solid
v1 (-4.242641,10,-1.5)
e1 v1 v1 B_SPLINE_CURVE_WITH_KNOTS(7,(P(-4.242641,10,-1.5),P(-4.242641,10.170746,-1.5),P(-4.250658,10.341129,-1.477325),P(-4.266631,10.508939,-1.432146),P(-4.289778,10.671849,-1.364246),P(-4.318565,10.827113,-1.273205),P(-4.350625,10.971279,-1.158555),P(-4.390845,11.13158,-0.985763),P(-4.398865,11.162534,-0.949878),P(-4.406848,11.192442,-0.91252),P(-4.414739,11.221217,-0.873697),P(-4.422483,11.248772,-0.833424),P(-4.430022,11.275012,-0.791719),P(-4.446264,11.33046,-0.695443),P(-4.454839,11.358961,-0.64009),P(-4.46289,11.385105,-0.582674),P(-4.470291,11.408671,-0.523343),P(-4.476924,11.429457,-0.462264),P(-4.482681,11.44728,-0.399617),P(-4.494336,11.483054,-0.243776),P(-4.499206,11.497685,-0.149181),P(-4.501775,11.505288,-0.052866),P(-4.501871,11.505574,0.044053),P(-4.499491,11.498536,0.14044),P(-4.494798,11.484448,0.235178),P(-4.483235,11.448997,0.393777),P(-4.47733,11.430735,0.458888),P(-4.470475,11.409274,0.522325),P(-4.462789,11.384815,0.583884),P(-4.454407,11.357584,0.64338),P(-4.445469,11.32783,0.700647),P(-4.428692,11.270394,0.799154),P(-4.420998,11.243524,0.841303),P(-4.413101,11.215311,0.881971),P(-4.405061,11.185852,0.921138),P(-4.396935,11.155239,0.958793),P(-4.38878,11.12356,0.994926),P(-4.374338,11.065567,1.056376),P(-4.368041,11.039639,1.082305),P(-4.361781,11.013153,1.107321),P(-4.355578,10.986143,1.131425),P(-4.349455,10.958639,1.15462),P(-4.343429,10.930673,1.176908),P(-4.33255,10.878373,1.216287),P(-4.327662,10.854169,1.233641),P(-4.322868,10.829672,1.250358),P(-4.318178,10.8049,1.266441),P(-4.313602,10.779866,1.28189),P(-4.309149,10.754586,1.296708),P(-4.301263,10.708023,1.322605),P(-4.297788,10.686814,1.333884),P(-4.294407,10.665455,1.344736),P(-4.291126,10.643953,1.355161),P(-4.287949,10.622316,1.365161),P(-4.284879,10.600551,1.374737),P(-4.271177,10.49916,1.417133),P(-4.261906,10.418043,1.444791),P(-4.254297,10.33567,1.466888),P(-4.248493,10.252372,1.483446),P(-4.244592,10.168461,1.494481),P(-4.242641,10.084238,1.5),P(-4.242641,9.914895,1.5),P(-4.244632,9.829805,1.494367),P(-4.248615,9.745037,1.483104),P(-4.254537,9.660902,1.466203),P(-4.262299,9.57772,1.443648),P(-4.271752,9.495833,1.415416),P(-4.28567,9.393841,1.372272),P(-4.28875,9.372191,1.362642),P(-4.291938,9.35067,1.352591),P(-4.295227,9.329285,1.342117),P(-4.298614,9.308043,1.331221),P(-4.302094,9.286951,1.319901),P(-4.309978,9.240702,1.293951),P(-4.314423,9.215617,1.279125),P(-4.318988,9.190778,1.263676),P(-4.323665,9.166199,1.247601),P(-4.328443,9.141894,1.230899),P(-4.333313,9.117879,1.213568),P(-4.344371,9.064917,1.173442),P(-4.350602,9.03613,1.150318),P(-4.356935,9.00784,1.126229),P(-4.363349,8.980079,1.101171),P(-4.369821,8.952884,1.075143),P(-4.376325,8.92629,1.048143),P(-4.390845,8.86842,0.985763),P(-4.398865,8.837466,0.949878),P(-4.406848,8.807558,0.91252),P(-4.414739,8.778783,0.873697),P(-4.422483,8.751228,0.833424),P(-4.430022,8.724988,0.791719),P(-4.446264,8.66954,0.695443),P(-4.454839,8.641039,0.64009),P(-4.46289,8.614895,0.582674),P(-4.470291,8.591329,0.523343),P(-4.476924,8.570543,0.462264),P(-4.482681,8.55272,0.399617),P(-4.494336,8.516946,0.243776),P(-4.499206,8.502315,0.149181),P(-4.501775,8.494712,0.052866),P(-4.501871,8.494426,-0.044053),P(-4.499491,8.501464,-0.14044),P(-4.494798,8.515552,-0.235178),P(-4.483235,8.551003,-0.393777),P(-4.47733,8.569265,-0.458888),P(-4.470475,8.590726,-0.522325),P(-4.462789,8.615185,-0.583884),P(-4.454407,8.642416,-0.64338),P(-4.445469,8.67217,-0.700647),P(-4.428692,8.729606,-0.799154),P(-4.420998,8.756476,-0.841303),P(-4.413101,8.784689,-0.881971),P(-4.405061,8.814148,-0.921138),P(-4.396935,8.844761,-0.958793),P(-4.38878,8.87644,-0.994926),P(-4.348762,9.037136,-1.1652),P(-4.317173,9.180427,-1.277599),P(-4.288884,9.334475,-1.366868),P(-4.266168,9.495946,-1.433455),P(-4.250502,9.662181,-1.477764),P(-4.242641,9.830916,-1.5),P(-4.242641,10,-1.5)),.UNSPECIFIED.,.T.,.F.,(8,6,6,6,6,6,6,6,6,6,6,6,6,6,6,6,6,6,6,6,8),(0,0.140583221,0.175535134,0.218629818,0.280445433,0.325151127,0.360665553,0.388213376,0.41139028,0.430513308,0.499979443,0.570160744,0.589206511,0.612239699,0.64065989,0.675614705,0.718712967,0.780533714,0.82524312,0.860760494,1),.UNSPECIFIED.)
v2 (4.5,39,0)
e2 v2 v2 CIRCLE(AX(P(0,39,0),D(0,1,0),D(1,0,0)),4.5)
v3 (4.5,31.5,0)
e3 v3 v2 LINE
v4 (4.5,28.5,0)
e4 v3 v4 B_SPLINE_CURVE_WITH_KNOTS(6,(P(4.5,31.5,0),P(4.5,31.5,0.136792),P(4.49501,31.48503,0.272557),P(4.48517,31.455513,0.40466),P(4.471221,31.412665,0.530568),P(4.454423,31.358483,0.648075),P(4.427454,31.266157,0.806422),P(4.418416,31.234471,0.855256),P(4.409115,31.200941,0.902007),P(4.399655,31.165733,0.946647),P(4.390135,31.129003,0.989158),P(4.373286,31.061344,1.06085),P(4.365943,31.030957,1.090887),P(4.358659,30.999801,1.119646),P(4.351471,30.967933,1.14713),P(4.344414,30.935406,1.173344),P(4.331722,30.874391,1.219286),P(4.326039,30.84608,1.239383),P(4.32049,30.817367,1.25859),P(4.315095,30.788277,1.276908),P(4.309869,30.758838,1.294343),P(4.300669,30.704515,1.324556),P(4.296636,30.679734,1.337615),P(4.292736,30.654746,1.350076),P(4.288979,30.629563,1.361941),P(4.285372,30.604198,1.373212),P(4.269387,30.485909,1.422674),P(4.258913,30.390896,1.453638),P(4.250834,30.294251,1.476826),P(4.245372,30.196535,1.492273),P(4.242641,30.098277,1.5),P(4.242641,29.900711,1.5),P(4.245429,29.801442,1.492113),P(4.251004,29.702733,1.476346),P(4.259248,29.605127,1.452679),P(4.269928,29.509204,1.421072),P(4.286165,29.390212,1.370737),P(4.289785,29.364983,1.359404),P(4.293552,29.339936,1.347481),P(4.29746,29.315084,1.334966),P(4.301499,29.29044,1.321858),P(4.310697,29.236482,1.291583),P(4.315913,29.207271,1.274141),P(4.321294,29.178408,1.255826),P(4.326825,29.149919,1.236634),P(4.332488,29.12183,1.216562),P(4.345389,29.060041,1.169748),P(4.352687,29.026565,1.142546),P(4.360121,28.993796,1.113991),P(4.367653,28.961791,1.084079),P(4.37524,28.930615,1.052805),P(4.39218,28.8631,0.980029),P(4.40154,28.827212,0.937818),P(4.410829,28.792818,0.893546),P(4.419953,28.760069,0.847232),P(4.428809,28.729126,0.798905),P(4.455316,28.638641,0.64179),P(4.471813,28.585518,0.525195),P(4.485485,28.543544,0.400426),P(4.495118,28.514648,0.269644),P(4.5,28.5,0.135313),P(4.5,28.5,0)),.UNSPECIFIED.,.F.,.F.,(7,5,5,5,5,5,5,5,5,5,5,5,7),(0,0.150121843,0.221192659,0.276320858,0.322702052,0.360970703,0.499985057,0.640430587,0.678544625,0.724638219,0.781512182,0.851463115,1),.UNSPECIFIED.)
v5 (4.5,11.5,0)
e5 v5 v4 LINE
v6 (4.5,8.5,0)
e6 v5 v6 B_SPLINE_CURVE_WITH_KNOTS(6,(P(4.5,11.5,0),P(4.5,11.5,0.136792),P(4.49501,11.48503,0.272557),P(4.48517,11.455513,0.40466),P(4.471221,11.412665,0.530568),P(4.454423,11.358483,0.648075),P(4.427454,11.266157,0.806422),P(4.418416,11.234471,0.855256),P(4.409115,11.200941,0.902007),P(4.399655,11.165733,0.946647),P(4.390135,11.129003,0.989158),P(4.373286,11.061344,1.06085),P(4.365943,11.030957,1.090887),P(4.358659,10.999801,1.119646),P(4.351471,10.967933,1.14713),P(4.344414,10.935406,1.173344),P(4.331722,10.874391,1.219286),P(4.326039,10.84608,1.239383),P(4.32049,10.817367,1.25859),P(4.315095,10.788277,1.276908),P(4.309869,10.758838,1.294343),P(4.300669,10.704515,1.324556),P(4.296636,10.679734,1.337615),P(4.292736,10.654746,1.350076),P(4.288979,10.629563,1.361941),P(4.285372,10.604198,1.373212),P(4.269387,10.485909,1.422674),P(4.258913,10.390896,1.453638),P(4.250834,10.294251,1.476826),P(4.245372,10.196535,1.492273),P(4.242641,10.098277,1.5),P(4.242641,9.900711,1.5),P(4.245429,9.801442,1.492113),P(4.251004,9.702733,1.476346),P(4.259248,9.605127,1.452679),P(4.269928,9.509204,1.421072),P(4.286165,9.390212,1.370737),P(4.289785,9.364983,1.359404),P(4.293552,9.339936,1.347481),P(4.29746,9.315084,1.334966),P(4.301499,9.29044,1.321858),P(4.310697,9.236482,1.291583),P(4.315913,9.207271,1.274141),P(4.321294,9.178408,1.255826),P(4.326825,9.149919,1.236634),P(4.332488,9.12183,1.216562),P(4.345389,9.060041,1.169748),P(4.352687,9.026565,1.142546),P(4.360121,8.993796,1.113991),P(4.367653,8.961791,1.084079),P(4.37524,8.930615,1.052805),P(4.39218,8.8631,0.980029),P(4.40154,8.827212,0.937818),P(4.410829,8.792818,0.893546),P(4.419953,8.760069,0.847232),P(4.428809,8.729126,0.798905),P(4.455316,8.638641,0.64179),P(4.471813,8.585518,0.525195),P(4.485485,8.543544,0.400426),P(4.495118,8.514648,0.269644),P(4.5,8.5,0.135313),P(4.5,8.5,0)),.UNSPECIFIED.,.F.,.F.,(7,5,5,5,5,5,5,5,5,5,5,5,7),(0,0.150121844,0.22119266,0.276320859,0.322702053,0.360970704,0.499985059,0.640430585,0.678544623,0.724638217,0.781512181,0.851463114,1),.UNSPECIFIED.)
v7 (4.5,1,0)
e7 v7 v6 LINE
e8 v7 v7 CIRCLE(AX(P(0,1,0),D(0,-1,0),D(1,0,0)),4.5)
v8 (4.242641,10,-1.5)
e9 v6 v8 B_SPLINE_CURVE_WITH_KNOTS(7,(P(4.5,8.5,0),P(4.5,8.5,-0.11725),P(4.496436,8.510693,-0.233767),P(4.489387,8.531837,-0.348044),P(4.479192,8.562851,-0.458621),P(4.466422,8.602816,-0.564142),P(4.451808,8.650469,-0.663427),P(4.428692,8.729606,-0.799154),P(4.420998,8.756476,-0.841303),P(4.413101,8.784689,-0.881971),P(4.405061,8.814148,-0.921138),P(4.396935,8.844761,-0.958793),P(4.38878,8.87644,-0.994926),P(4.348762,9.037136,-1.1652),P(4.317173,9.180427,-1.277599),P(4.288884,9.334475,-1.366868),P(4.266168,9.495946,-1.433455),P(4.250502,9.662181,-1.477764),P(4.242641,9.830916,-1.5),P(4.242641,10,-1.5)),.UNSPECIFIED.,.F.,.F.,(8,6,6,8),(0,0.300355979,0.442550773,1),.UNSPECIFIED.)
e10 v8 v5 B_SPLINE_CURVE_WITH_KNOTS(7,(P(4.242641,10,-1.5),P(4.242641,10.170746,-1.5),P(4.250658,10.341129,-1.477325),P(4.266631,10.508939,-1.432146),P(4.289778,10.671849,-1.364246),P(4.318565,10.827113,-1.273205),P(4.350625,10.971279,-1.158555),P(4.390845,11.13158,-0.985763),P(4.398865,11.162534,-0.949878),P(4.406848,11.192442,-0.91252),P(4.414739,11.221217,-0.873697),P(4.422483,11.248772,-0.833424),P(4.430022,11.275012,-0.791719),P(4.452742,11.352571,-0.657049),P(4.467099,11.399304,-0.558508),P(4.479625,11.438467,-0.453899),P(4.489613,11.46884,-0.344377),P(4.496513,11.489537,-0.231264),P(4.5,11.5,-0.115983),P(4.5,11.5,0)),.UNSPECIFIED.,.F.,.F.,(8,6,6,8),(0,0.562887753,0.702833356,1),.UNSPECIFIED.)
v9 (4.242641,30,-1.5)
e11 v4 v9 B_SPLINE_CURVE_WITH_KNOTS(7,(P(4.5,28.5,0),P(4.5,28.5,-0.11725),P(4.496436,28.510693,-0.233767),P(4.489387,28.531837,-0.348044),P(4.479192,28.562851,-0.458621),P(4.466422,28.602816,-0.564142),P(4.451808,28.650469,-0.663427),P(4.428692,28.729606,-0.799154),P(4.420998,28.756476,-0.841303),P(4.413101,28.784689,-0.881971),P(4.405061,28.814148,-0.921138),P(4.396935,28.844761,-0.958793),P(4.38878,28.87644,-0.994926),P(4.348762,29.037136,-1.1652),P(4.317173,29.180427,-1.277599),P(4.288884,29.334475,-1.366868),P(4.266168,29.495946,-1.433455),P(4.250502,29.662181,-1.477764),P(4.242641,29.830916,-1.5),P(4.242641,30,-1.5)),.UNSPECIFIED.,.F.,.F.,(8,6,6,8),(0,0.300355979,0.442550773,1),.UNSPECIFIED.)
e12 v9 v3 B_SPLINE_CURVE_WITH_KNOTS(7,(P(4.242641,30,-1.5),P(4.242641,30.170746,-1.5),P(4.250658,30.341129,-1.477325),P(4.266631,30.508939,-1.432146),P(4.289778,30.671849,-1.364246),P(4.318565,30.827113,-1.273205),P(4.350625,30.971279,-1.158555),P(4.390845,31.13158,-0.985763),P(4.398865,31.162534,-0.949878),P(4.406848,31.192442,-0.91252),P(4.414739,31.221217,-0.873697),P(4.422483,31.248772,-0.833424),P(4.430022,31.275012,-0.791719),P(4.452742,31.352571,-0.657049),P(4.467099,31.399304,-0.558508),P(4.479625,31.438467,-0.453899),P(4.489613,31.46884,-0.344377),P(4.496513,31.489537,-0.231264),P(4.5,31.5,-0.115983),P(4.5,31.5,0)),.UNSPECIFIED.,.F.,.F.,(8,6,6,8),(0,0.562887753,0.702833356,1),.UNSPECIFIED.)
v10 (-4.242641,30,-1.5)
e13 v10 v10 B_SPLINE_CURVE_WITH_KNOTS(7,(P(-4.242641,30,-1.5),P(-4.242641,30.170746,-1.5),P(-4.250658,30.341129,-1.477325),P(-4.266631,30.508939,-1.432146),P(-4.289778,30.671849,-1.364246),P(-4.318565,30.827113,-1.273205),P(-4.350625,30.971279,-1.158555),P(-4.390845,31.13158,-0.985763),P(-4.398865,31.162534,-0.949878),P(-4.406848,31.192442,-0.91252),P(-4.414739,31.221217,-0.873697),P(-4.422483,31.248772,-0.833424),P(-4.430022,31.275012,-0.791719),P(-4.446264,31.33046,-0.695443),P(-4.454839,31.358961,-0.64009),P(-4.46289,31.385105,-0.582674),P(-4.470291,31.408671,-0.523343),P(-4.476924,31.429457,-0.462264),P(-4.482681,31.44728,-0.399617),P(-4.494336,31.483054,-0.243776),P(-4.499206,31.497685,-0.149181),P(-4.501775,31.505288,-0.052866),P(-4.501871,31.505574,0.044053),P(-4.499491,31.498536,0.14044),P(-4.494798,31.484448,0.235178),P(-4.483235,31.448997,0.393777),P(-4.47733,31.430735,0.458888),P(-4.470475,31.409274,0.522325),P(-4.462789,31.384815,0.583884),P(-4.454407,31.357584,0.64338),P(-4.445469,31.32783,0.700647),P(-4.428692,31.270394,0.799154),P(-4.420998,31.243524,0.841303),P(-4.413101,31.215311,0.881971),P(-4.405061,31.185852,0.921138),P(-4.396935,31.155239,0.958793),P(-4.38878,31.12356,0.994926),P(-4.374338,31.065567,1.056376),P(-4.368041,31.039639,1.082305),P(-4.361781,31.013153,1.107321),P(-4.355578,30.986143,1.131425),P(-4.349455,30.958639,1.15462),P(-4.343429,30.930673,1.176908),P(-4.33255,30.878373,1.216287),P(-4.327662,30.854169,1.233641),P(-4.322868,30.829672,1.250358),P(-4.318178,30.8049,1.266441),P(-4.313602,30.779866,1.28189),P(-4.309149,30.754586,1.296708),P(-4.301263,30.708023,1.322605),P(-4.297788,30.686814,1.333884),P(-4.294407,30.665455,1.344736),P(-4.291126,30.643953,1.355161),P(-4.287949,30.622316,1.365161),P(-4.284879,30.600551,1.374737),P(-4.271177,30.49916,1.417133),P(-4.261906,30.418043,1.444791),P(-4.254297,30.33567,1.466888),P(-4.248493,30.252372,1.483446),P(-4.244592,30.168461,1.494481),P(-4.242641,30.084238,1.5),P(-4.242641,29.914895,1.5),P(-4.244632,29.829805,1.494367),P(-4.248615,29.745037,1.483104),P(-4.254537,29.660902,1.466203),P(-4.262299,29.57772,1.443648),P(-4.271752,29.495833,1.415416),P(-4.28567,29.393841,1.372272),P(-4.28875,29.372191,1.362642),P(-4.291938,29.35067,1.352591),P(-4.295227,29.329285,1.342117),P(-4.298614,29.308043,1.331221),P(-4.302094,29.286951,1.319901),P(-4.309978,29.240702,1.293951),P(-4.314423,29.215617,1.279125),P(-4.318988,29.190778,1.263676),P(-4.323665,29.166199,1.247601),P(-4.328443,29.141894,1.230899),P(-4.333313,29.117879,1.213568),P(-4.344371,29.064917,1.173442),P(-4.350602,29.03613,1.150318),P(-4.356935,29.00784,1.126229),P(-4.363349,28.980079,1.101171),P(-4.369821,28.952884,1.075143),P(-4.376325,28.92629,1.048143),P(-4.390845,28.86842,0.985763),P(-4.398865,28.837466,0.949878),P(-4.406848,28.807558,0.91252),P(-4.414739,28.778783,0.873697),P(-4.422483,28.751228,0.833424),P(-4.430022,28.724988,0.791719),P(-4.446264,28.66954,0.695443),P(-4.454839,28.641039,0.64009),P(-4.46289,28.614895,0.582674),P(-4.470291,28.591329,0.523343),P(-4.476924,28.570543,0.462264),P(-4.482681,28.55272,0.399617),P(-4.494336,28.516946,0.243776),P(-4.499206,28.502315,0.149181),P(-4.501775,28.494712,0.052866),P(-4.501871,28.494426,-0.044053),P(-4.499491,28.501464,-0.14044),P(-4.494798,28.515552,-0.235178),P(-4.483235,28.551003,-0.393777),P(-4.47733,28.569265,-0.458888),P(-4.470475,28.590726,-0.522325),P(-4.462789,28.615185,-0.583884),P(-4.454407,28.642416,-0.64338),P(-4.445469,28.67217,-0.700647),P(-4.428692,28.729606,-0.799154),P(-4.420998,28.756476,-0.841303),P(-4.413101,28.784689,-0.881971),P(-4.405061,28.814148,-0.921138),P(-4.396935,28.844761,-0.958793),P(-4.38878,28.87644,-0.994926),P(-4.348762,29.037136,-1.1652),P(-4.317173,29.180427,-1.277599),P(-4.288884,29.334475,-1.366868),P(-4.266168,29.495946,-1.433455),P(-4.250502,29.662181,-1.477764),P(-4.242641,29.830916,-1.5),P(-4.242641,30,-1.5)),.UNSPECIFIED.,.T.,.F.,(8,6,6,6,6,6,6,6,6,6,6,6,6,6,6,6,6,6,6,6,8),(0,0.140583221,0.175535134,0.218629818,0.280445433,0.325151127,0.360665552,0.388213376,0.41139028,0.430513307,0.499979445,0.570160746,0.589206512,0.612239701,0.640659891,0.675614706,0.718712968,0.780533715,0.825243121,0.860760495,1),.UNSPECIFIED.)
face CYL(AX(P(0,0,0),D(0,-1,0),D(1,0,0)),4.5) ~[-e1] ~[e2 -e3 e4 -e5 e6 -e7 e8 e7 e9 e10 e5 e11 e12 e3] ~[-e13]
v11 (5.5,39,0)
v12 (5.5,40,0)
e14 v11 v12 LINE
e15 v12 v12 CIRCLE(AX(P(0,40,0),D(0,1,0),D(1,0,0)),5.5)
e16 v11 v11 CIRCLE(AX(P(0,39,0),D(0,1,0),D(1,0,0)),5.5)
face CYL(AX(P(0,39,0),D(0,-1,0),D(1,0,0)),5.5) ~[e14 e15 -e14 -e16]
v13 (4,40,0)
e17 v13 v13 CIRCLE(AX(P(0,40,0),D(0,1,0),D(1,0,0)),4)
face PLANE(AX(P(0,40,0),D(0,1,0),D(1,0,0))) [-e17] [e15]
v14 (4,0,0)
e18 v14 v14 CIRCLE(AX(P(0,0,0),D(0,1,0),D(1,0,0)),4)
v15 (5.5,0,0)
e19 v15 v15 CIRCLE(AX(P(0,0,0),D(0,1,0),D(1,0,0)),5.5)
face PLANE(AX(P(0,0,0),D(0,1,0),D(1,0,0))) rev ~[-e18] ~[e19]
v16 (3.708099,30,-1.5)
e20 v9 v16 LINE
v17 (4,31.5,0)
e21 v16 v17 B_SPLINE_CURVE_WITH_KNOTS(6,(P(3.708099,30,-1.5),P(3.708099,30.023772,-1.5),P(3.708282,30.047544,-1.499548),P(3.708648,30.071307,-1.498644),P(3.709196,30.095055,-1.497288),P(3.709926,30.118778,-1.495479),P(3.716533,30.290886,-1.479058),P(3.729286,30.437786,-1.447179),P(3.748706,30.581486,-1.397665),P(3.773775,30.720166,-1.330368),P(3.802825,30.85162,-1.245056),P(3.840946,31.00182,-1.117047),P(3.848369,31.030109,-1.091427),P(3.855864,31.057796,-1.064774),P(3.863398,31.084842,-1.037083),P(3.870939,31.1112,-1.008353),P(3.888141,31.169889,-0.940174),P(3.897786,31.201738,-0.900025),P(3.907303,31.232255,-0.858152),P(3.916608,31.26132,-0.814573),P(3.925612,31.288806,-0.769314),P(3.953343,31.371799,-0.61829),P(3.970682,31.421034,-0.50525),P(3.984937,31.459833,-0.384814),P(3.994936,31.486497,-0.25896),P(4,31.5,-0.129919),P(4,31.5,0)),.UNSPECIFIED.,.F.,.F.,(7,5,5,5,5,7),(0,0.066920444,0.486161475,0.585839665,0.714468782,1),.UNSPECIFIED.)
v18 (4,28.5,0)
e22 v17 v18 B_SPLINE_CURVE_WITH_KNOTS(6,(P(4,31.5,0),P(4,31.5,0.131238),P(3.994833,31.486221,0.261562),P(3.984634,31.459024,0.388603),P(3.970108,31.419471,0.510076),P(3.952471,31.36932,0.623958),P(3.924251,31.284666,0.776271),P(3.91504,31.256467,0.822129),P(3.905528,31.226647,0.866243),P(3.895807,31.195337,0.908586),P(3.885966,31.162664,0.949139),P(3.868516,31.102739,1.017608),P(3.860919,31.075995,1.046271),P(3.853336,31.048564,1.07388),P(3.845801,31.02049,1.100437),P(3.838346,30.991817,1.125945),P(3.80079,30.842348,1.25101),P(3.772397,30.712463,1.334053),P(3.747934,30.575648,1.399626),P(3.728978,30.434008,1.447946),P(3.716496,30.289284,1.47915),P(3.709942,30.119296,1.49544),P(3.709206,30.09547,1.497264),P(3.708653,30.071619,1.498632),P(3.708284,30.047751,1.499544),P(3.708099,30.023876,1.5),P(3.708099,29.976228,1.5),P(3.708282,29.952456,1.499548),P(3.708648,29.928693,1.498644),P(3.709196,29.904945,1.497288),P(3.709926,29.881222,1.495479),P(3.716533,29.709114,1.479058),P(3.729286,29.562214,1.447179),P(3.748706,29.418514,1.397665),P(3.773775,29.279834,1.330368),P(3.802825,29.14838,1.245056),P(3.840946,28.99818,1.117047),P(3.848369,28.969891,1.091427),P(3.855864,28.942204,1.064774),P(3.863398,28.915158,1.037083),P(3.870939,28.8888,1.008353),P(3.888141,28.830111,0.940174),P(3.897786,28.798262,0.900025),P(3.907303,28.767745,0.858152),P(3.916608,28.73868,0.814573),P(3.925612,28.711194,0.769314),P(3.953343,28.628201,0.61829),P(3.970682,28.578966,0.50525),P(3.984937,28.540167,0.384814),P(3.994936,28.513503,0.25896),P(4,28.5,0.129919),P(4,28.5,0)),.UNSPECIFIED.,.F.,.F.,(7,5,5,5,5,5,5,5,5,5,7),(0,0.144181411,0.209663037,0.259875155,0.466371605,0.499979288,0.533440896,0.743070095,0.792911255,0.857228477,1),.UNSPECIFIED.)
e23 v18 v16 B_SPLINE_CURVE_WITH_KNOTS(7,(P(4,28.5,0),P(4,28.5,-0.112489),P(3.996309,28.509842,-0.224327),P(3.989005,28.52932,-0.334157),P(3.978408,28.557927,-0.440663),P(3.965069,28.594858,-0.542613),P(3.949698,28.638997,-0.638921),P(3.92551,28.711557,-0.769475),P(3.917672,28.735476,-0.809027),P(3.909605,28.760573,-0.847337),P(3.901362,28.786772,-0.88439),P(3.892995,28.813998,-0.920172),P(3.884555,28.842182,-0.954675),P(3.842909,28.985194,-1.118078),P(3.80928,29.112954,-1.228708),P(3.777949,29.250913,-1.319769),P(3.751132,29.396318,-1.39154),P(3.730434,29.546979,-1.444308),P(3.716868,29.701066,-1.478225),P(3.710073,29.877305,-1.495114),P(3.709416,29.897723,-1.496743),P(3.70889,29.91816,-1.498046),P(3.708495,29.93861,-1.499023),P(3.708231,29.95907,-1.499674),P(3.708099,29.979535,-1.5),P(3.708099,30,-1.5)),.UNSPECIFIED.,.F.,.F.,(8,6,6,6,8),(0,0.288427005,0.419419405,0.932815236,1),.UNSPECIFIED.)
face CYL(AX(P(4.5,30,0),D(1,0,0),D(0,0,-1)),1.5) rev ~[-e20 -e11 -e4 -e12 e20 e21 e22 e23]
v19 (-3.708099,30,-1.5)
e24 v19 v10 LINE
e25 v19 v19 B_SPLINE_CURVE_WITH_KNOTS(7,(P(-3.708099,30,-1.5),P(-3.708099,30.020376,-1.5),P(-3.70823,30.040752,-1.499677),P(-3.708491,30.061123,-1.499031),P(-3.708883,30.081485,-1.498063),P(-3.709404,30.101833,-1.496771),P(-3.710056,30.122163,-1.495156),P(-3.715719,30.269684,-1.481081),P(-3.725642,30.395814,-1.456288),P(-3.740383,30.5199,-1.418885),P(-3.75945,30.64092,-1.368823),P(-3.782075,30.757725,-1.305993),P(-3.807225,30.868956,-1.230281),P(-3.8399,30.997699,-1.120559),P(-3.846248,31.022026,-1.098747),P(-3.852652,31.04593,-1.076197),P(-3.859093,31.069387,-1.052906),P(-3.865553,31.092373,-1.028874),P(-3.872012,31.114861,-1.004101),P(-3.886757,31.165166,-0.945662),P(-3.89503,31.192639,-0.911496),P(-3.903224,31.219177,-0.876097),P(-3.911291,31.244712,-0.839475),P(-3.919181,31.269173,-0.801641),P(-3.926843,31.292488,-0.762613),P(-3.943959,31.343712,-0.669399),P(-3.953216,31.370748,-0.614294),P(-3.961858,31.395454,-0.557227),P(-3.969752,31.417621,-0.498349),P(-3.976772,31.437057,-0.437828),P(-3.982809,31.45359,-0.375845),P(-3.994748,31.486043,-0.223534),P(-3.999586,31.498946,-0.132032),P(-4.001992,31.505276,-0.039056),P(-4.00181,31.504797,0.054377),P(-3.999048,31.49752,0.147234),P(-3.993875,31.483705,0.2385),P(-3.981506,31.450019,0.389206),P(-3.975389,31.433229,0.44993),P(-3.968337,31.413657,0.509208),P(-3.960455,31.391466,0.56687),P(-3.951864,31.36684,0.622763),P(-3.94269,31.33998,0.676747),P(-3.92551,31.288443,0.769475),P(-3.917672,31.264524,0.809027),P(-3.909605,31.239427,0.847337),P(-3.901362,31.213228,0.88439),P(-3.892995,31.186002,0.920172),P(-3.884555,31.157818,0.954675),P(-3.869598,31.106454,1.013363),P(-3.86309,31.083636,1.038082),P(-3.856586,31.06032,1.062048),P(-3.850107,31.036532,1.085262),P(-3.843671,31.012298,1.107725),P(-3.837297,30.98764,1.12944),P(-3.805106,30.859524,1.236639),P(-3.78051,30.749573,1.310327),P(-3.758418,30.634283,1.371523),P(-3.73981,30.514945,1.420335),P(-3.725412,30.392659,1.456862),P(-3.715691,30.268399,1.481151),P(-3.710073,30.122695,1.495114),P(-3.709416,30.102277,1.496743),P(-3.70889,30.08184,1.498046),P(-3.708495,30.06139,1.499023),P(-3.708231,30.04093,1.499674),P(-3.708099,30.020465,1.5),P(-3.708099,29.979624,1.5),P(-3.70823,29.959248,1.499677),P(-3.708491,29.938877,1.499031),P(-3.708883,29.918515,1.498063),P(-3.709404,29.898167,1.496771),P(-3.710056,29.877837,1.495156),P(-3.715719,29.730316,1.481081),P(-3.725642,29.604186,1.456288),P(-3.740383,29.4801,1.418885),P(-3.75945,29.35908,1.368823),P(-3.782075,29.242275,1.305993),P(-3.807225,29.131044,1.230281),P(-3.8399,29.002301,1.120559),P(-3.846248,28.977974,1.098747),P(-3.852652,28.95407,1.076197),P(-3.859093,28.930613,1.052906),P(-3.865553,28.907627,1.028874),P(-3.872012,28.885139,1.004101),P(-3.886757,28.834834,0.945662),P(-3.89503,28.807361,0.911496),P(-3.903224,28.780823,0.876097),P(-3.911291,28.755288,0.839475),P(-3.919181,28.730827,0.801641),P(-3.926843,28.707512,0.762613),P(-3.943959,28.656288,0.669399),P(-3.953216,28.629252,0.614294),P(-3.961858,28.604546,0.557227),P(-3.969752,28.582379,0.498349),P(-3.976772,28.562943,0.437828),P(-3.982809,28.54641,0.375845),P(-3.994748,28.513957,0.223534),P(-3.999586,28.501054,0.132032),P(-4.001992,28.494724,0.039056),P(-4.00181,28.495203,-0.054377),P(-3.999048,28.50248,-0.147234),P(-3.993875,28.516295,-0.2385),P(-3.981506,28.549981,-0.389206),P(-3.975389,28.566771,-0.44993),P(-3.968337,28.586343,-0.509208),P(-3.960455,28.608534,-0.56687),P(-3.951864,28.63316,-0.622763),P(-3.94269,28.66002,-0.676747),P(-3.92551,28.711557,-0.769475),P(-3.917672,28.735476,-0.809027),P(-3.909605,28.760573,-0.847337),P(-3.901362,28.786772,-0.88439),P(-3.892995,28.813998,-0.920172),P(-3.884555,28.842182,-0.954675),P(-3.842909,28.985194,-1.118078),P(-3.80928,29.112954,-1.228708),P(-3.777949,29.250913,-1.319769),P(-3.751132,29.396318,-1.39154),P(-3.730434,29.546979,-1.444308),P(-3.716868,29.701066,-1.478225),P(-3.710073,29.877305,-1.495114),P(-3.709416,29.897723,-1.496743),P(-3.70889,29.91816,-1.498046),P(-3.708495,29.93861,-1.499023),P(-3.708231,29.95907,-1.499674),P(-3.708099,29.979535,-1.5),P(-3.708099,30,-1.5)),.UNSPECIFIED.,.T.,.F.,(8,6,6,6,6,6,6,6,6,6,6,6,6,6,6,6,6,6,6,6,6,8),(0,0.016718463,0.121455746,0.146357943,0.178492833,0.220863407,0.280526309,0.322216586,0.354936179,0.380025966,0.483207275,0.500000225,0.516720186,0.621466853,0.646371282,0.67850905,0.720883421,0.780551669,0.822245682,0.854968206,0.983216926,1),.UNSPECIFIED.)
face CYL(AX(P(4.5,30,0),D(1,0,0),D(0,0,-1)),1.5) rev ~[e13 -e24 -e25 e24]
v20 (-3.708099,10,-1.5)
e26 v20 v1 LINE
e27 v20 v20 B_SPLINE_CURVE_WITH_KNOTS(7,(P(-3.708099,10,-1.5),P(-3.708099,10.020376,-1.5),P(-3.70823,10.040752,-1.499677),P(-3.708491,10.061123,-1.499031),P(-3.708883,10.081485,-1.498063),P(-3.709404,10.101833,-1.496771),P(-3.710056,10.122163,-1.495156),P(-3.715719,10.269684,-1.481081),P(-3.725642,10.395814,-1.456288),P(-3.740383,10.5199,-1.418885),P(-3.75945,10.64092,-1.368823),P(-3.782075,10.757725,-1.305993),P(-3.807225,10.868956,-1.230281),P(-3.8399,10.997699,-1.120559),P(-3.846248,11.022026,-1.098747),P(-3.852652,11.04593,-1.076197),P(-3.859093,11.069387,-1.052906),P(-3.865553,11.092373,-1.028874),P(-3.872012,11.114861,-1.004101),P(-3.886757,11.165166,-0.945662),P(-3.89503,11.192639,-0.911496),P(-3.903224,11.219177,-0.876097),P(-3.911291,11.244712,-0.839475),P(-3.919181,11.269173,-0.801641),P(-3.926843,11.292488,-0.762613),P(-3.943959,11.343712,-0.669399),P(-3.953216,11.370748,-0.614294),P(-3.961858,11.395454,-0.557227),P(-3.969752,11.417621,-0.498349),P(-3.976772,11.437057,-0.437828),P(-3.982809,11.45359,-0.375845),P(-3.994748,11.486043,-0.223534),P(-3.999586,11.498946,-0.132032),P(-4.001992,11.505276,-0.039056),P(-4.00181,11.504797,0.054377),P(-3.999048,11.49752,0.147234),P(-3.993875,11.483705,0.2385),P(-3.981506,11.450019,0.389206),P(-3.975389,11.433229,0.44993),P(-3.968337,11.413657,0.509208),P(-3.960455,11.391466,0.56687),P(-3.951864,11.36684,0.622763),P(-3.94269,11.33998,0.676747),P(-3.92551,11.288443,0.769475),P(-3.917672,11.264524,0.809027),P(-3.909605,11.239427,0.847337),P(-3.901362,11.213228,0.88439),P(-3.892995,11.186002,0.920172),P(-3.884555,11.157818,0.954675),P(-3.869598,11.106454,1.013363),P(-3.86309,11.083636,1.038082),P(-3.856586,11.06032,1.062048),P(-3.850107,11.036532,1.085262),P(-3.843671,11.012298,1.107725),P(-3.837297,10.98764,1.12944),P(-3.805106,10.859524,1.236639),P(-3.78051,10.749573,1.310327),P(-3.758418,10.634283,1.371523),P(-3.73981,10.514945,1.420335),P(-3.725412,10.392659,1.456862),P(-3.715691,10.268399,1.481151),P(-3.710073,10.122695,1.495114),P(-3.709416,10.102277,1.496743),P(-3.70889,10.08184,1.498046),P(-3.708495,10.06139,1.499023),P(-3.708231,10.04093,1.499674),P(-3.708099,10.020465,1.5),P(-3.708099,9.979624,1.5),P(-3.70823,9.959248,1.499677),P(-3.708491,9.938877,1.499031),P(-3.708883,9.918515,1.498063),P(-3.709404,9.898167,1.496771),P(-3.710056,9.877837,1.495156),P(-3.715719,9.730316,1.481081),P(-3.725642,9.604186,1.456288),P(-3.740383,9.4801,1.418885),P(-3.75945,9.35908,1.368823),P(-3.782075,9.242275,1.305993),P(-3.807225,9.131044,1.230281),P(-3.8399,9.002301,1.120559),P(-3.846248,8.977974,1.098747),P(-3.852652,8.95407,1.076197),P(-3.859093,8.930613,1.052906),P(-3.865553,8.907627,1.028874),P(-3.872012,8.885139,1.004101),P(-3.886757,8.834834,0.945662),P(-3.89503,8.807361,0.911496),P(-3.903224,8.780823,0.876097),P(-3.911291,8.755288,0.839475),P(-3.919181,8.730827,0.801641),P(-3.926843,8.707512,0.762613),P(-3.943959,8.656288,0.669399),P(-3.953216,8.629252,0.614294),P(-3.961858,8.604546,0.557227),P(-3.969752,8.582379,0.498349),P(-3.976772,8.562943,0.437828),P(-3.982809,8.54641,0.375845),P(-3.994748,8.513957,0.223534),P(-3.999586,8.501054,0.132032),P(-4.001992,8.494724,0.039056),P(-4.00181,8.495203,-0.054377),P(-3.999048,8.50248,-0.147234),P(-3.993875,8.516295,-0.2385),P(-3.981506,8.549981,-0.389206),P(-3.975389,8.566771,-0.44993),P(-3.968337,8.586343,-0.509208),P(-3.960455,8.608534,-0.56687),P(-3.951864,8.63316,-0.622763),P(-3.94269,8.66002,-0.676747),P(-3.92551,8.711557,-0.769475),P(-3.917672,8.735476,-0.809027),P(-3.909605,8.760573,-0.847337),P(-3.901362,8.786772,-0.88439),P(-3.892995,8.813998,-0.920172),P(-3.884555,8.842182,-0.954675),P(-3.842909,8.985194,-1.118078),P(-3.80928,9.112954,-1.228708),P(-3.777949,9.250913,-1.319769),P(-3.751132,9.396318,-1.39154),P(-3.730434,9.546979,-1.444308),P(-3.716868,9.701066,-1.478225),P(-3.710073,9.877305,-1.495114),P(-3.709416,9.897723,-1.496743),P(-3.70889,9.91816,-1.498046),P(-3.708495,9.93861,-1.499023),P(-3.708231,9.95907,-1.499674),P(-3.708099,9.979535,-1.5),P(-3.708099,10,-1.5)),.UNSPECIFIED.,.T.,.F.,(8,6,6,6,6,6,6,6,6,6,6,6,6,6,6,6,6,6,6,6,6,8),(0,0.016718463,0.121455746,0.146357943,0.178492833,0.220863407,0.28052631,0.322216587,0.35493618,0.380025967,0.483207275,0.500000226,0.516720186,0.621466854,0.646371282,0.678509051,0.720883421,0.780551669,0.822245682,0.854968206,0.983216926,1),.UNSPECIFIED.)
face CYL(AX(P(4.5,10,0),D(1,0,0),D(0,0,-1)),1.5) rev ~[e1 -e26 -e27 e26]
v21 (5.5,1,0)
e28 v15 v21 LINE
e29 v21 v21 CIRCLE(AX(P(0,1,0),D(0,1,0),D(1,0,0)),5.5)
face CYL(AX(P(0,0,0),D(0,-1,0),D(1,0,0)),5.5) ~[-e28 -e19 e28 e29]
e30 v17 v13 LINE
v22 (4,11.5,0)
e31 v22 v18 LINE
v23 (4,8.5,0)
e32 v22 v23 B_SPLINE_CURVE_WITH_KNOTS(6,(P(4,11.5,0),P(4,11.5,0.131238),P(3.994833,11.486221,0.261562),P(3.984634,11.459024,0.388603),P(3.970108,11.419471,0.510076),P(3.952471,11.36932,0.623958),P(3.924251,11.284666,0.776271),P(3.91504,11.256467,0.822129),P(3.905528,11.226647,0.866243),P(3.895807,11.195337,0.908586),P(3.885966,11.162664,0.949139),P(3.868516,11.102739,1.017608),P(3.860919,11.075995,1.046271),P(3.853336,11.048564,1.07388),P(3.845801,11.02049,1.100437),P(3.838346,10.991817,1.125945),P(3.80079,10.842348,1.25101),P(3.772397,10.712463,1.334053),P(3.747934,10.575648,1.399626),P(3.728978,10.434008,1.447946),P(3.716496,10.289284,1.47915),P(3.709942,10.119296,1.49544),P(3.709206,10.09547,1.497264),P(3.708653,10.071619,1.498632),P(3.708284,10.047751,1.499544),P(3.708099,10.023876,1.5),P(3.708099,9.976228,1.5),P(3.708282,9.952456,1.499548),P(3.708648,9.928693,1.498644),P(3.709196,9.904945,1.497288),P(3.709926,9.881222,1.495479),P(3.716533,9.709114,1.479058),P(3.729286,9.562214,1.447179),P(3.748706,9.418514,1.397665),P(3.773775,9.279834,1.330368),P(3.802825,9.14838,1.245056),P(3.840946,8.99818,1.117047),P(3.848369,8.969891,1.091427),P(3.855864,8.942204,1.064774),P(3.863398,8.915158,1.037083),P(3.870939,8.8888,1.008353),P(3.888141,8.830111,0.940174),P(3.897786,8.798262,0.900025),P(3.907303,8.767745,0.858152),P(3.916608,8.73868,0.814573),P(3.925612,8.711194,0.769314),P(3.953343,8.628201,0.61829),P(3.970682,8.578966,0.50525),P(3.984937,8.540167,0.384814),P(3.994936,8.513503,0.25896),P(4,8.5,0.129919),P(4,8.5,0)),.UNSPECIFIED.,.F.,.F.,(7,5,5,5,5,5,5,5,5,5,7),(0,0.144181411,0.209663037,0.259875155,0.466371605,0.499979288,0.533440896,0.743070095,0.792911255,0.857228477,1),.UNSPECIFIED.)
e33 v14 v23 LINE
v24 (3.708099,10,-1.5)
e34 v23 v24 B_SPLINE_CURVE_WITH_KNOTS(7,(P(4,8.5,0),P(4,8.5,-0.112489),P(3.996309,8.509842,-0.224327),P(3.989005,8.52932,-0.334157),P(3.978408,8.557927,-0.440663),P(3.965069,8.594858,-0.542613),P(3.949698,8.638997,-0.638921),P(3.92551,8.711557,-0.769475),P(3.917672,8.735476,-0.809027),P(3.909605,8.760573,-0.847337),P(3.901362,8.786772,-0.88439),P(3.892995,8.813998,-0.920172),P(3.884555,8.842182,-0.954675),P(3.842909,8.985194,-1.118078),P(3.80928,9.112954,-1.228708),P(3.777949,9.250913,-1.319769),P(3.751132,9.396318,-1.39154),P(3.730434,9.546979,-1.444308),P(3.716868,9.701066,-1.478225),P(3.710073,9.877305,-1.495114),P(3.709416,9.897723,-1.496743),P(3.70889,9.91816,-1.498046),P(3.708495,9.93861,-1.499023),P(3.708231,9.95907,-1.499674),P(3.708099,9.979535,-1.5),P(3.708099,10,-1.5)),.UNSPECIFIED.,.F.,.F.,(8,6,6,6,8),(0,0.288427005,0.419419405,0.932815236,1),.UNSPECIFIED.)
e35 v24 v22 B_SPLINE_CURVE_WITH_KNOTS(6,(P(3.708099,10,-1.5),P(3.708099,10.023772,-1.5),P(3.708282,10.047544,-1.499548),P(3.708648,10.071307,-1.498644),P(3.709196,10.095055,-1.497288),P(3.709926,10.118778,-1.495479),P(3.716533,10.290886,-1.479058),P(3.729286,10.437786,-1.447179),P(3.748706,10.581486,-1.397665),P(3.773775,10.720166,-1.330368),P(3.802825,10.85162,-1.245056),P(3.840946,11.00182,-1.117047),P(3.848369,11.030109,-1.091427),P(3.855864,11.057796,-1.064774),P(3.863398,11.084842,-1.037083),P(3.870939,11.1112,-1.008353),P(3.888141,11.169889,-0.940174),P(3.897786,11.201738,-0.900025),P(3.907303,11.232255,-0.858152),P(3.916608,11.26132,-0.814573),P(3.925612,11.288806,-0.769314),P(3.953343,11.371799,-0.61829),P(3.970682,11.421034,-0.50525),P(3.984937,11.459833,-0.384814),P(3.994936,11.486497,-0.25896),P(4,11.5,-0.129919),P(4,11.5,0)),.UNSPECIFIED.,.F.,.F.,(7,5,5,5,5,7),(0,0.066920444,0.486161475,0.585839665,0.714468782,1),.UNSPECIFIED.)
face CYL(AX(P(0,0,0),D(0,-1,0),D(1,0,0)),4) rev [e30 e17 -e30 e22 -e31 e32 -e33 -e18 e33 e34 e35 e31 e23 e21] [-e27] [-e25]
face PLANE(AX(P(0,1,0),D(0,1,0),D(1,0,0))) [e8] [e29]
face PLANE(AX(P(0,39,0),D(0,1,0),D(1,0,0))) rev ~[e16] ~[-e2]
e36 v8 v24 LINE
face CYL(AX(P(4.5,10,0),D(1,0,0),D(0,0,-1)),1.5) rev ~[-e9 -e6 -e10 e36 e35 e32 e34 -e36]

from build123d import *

# Parameters (mm, degrees)
SKETCH1_R           = 5.5
SKETCH1_R_2         = 4
BOSS_EXTRUDE1_DEPTH = 1
SKETCH1_3_R         = 4.5
SKETCH1_3_R_2       = 4
BOSS_EXTRUDE2_DEPTH = 40
BOSS_EXTRUDE3_START = 39
SKETCH1_4_R         = 5.5
SKETCH1_4_R_2       = 4.5
BOSS_EXTRUDE3_DEPTH = 1
SKETCH2_R           = 1.5
CUT_EXTRUDE1_DEPTH  = 32


with BuildPart() as part:
    # Sketch1 → Boss-Extrude1 (new body)
    with BuildSketch(Plane(origin=(0, 0, 0), x_dir=(1, 0, 0), z_dir=(0, 1, 0))):
        Circle(SKETCH1_R)
        Circle(SKETCH1_R_2, mode=Mode.SUBTRACT)
    extrude(amount=BOSS_EXTRUDE1_DEPTH)

    # Sketch1<3> → Boss-Extrude2 (add)
    with BuildSketch(Plane(origin=(0, 0, 0), x_dir=(1, 0, 0), z_dir=(0, 1, 0))):
        Circle(SKETCH1_3_R)
        Circle(SKETCH1_3_R_2, mode=Mode.SUBTRACT)
    extrude(amount=BOSS_EXTRUDE2_DEPTH)

    # Sketch1<4> → Boss-Extrude3 (add)
    with BuildSketch(Plane(origin=(0, 0, 0), x_dir=(1, 0, 0), z_dir=(0, 1, 0)).offset(BOSS_EXTRUDE3_START)):
        Circle(SKETCH1_4_R)
        Circle(SKETCH1_4_R_2, mode=Mode.SUBTRACT)
    extrude(amount=BOSS_EXTRUDE3_DEPTH)

    # Sketch2 → Cut-Extrude1 (cut)
    with BuildSketch(Plane(origin=(4.5, 0, 0), x_dir=(0, 0, -1), z_dir=(1, 0, 0))):
        with Locations((0, 10)):
            Circle(SKETCH2_R)
        with Locations((0, 30)):
            Circle(SKETCH2_R)
    extrude(amount=-CUT_EXTRUDE1_DEPTH, mode=Mode.SUBTRACT)


solid = part.part
